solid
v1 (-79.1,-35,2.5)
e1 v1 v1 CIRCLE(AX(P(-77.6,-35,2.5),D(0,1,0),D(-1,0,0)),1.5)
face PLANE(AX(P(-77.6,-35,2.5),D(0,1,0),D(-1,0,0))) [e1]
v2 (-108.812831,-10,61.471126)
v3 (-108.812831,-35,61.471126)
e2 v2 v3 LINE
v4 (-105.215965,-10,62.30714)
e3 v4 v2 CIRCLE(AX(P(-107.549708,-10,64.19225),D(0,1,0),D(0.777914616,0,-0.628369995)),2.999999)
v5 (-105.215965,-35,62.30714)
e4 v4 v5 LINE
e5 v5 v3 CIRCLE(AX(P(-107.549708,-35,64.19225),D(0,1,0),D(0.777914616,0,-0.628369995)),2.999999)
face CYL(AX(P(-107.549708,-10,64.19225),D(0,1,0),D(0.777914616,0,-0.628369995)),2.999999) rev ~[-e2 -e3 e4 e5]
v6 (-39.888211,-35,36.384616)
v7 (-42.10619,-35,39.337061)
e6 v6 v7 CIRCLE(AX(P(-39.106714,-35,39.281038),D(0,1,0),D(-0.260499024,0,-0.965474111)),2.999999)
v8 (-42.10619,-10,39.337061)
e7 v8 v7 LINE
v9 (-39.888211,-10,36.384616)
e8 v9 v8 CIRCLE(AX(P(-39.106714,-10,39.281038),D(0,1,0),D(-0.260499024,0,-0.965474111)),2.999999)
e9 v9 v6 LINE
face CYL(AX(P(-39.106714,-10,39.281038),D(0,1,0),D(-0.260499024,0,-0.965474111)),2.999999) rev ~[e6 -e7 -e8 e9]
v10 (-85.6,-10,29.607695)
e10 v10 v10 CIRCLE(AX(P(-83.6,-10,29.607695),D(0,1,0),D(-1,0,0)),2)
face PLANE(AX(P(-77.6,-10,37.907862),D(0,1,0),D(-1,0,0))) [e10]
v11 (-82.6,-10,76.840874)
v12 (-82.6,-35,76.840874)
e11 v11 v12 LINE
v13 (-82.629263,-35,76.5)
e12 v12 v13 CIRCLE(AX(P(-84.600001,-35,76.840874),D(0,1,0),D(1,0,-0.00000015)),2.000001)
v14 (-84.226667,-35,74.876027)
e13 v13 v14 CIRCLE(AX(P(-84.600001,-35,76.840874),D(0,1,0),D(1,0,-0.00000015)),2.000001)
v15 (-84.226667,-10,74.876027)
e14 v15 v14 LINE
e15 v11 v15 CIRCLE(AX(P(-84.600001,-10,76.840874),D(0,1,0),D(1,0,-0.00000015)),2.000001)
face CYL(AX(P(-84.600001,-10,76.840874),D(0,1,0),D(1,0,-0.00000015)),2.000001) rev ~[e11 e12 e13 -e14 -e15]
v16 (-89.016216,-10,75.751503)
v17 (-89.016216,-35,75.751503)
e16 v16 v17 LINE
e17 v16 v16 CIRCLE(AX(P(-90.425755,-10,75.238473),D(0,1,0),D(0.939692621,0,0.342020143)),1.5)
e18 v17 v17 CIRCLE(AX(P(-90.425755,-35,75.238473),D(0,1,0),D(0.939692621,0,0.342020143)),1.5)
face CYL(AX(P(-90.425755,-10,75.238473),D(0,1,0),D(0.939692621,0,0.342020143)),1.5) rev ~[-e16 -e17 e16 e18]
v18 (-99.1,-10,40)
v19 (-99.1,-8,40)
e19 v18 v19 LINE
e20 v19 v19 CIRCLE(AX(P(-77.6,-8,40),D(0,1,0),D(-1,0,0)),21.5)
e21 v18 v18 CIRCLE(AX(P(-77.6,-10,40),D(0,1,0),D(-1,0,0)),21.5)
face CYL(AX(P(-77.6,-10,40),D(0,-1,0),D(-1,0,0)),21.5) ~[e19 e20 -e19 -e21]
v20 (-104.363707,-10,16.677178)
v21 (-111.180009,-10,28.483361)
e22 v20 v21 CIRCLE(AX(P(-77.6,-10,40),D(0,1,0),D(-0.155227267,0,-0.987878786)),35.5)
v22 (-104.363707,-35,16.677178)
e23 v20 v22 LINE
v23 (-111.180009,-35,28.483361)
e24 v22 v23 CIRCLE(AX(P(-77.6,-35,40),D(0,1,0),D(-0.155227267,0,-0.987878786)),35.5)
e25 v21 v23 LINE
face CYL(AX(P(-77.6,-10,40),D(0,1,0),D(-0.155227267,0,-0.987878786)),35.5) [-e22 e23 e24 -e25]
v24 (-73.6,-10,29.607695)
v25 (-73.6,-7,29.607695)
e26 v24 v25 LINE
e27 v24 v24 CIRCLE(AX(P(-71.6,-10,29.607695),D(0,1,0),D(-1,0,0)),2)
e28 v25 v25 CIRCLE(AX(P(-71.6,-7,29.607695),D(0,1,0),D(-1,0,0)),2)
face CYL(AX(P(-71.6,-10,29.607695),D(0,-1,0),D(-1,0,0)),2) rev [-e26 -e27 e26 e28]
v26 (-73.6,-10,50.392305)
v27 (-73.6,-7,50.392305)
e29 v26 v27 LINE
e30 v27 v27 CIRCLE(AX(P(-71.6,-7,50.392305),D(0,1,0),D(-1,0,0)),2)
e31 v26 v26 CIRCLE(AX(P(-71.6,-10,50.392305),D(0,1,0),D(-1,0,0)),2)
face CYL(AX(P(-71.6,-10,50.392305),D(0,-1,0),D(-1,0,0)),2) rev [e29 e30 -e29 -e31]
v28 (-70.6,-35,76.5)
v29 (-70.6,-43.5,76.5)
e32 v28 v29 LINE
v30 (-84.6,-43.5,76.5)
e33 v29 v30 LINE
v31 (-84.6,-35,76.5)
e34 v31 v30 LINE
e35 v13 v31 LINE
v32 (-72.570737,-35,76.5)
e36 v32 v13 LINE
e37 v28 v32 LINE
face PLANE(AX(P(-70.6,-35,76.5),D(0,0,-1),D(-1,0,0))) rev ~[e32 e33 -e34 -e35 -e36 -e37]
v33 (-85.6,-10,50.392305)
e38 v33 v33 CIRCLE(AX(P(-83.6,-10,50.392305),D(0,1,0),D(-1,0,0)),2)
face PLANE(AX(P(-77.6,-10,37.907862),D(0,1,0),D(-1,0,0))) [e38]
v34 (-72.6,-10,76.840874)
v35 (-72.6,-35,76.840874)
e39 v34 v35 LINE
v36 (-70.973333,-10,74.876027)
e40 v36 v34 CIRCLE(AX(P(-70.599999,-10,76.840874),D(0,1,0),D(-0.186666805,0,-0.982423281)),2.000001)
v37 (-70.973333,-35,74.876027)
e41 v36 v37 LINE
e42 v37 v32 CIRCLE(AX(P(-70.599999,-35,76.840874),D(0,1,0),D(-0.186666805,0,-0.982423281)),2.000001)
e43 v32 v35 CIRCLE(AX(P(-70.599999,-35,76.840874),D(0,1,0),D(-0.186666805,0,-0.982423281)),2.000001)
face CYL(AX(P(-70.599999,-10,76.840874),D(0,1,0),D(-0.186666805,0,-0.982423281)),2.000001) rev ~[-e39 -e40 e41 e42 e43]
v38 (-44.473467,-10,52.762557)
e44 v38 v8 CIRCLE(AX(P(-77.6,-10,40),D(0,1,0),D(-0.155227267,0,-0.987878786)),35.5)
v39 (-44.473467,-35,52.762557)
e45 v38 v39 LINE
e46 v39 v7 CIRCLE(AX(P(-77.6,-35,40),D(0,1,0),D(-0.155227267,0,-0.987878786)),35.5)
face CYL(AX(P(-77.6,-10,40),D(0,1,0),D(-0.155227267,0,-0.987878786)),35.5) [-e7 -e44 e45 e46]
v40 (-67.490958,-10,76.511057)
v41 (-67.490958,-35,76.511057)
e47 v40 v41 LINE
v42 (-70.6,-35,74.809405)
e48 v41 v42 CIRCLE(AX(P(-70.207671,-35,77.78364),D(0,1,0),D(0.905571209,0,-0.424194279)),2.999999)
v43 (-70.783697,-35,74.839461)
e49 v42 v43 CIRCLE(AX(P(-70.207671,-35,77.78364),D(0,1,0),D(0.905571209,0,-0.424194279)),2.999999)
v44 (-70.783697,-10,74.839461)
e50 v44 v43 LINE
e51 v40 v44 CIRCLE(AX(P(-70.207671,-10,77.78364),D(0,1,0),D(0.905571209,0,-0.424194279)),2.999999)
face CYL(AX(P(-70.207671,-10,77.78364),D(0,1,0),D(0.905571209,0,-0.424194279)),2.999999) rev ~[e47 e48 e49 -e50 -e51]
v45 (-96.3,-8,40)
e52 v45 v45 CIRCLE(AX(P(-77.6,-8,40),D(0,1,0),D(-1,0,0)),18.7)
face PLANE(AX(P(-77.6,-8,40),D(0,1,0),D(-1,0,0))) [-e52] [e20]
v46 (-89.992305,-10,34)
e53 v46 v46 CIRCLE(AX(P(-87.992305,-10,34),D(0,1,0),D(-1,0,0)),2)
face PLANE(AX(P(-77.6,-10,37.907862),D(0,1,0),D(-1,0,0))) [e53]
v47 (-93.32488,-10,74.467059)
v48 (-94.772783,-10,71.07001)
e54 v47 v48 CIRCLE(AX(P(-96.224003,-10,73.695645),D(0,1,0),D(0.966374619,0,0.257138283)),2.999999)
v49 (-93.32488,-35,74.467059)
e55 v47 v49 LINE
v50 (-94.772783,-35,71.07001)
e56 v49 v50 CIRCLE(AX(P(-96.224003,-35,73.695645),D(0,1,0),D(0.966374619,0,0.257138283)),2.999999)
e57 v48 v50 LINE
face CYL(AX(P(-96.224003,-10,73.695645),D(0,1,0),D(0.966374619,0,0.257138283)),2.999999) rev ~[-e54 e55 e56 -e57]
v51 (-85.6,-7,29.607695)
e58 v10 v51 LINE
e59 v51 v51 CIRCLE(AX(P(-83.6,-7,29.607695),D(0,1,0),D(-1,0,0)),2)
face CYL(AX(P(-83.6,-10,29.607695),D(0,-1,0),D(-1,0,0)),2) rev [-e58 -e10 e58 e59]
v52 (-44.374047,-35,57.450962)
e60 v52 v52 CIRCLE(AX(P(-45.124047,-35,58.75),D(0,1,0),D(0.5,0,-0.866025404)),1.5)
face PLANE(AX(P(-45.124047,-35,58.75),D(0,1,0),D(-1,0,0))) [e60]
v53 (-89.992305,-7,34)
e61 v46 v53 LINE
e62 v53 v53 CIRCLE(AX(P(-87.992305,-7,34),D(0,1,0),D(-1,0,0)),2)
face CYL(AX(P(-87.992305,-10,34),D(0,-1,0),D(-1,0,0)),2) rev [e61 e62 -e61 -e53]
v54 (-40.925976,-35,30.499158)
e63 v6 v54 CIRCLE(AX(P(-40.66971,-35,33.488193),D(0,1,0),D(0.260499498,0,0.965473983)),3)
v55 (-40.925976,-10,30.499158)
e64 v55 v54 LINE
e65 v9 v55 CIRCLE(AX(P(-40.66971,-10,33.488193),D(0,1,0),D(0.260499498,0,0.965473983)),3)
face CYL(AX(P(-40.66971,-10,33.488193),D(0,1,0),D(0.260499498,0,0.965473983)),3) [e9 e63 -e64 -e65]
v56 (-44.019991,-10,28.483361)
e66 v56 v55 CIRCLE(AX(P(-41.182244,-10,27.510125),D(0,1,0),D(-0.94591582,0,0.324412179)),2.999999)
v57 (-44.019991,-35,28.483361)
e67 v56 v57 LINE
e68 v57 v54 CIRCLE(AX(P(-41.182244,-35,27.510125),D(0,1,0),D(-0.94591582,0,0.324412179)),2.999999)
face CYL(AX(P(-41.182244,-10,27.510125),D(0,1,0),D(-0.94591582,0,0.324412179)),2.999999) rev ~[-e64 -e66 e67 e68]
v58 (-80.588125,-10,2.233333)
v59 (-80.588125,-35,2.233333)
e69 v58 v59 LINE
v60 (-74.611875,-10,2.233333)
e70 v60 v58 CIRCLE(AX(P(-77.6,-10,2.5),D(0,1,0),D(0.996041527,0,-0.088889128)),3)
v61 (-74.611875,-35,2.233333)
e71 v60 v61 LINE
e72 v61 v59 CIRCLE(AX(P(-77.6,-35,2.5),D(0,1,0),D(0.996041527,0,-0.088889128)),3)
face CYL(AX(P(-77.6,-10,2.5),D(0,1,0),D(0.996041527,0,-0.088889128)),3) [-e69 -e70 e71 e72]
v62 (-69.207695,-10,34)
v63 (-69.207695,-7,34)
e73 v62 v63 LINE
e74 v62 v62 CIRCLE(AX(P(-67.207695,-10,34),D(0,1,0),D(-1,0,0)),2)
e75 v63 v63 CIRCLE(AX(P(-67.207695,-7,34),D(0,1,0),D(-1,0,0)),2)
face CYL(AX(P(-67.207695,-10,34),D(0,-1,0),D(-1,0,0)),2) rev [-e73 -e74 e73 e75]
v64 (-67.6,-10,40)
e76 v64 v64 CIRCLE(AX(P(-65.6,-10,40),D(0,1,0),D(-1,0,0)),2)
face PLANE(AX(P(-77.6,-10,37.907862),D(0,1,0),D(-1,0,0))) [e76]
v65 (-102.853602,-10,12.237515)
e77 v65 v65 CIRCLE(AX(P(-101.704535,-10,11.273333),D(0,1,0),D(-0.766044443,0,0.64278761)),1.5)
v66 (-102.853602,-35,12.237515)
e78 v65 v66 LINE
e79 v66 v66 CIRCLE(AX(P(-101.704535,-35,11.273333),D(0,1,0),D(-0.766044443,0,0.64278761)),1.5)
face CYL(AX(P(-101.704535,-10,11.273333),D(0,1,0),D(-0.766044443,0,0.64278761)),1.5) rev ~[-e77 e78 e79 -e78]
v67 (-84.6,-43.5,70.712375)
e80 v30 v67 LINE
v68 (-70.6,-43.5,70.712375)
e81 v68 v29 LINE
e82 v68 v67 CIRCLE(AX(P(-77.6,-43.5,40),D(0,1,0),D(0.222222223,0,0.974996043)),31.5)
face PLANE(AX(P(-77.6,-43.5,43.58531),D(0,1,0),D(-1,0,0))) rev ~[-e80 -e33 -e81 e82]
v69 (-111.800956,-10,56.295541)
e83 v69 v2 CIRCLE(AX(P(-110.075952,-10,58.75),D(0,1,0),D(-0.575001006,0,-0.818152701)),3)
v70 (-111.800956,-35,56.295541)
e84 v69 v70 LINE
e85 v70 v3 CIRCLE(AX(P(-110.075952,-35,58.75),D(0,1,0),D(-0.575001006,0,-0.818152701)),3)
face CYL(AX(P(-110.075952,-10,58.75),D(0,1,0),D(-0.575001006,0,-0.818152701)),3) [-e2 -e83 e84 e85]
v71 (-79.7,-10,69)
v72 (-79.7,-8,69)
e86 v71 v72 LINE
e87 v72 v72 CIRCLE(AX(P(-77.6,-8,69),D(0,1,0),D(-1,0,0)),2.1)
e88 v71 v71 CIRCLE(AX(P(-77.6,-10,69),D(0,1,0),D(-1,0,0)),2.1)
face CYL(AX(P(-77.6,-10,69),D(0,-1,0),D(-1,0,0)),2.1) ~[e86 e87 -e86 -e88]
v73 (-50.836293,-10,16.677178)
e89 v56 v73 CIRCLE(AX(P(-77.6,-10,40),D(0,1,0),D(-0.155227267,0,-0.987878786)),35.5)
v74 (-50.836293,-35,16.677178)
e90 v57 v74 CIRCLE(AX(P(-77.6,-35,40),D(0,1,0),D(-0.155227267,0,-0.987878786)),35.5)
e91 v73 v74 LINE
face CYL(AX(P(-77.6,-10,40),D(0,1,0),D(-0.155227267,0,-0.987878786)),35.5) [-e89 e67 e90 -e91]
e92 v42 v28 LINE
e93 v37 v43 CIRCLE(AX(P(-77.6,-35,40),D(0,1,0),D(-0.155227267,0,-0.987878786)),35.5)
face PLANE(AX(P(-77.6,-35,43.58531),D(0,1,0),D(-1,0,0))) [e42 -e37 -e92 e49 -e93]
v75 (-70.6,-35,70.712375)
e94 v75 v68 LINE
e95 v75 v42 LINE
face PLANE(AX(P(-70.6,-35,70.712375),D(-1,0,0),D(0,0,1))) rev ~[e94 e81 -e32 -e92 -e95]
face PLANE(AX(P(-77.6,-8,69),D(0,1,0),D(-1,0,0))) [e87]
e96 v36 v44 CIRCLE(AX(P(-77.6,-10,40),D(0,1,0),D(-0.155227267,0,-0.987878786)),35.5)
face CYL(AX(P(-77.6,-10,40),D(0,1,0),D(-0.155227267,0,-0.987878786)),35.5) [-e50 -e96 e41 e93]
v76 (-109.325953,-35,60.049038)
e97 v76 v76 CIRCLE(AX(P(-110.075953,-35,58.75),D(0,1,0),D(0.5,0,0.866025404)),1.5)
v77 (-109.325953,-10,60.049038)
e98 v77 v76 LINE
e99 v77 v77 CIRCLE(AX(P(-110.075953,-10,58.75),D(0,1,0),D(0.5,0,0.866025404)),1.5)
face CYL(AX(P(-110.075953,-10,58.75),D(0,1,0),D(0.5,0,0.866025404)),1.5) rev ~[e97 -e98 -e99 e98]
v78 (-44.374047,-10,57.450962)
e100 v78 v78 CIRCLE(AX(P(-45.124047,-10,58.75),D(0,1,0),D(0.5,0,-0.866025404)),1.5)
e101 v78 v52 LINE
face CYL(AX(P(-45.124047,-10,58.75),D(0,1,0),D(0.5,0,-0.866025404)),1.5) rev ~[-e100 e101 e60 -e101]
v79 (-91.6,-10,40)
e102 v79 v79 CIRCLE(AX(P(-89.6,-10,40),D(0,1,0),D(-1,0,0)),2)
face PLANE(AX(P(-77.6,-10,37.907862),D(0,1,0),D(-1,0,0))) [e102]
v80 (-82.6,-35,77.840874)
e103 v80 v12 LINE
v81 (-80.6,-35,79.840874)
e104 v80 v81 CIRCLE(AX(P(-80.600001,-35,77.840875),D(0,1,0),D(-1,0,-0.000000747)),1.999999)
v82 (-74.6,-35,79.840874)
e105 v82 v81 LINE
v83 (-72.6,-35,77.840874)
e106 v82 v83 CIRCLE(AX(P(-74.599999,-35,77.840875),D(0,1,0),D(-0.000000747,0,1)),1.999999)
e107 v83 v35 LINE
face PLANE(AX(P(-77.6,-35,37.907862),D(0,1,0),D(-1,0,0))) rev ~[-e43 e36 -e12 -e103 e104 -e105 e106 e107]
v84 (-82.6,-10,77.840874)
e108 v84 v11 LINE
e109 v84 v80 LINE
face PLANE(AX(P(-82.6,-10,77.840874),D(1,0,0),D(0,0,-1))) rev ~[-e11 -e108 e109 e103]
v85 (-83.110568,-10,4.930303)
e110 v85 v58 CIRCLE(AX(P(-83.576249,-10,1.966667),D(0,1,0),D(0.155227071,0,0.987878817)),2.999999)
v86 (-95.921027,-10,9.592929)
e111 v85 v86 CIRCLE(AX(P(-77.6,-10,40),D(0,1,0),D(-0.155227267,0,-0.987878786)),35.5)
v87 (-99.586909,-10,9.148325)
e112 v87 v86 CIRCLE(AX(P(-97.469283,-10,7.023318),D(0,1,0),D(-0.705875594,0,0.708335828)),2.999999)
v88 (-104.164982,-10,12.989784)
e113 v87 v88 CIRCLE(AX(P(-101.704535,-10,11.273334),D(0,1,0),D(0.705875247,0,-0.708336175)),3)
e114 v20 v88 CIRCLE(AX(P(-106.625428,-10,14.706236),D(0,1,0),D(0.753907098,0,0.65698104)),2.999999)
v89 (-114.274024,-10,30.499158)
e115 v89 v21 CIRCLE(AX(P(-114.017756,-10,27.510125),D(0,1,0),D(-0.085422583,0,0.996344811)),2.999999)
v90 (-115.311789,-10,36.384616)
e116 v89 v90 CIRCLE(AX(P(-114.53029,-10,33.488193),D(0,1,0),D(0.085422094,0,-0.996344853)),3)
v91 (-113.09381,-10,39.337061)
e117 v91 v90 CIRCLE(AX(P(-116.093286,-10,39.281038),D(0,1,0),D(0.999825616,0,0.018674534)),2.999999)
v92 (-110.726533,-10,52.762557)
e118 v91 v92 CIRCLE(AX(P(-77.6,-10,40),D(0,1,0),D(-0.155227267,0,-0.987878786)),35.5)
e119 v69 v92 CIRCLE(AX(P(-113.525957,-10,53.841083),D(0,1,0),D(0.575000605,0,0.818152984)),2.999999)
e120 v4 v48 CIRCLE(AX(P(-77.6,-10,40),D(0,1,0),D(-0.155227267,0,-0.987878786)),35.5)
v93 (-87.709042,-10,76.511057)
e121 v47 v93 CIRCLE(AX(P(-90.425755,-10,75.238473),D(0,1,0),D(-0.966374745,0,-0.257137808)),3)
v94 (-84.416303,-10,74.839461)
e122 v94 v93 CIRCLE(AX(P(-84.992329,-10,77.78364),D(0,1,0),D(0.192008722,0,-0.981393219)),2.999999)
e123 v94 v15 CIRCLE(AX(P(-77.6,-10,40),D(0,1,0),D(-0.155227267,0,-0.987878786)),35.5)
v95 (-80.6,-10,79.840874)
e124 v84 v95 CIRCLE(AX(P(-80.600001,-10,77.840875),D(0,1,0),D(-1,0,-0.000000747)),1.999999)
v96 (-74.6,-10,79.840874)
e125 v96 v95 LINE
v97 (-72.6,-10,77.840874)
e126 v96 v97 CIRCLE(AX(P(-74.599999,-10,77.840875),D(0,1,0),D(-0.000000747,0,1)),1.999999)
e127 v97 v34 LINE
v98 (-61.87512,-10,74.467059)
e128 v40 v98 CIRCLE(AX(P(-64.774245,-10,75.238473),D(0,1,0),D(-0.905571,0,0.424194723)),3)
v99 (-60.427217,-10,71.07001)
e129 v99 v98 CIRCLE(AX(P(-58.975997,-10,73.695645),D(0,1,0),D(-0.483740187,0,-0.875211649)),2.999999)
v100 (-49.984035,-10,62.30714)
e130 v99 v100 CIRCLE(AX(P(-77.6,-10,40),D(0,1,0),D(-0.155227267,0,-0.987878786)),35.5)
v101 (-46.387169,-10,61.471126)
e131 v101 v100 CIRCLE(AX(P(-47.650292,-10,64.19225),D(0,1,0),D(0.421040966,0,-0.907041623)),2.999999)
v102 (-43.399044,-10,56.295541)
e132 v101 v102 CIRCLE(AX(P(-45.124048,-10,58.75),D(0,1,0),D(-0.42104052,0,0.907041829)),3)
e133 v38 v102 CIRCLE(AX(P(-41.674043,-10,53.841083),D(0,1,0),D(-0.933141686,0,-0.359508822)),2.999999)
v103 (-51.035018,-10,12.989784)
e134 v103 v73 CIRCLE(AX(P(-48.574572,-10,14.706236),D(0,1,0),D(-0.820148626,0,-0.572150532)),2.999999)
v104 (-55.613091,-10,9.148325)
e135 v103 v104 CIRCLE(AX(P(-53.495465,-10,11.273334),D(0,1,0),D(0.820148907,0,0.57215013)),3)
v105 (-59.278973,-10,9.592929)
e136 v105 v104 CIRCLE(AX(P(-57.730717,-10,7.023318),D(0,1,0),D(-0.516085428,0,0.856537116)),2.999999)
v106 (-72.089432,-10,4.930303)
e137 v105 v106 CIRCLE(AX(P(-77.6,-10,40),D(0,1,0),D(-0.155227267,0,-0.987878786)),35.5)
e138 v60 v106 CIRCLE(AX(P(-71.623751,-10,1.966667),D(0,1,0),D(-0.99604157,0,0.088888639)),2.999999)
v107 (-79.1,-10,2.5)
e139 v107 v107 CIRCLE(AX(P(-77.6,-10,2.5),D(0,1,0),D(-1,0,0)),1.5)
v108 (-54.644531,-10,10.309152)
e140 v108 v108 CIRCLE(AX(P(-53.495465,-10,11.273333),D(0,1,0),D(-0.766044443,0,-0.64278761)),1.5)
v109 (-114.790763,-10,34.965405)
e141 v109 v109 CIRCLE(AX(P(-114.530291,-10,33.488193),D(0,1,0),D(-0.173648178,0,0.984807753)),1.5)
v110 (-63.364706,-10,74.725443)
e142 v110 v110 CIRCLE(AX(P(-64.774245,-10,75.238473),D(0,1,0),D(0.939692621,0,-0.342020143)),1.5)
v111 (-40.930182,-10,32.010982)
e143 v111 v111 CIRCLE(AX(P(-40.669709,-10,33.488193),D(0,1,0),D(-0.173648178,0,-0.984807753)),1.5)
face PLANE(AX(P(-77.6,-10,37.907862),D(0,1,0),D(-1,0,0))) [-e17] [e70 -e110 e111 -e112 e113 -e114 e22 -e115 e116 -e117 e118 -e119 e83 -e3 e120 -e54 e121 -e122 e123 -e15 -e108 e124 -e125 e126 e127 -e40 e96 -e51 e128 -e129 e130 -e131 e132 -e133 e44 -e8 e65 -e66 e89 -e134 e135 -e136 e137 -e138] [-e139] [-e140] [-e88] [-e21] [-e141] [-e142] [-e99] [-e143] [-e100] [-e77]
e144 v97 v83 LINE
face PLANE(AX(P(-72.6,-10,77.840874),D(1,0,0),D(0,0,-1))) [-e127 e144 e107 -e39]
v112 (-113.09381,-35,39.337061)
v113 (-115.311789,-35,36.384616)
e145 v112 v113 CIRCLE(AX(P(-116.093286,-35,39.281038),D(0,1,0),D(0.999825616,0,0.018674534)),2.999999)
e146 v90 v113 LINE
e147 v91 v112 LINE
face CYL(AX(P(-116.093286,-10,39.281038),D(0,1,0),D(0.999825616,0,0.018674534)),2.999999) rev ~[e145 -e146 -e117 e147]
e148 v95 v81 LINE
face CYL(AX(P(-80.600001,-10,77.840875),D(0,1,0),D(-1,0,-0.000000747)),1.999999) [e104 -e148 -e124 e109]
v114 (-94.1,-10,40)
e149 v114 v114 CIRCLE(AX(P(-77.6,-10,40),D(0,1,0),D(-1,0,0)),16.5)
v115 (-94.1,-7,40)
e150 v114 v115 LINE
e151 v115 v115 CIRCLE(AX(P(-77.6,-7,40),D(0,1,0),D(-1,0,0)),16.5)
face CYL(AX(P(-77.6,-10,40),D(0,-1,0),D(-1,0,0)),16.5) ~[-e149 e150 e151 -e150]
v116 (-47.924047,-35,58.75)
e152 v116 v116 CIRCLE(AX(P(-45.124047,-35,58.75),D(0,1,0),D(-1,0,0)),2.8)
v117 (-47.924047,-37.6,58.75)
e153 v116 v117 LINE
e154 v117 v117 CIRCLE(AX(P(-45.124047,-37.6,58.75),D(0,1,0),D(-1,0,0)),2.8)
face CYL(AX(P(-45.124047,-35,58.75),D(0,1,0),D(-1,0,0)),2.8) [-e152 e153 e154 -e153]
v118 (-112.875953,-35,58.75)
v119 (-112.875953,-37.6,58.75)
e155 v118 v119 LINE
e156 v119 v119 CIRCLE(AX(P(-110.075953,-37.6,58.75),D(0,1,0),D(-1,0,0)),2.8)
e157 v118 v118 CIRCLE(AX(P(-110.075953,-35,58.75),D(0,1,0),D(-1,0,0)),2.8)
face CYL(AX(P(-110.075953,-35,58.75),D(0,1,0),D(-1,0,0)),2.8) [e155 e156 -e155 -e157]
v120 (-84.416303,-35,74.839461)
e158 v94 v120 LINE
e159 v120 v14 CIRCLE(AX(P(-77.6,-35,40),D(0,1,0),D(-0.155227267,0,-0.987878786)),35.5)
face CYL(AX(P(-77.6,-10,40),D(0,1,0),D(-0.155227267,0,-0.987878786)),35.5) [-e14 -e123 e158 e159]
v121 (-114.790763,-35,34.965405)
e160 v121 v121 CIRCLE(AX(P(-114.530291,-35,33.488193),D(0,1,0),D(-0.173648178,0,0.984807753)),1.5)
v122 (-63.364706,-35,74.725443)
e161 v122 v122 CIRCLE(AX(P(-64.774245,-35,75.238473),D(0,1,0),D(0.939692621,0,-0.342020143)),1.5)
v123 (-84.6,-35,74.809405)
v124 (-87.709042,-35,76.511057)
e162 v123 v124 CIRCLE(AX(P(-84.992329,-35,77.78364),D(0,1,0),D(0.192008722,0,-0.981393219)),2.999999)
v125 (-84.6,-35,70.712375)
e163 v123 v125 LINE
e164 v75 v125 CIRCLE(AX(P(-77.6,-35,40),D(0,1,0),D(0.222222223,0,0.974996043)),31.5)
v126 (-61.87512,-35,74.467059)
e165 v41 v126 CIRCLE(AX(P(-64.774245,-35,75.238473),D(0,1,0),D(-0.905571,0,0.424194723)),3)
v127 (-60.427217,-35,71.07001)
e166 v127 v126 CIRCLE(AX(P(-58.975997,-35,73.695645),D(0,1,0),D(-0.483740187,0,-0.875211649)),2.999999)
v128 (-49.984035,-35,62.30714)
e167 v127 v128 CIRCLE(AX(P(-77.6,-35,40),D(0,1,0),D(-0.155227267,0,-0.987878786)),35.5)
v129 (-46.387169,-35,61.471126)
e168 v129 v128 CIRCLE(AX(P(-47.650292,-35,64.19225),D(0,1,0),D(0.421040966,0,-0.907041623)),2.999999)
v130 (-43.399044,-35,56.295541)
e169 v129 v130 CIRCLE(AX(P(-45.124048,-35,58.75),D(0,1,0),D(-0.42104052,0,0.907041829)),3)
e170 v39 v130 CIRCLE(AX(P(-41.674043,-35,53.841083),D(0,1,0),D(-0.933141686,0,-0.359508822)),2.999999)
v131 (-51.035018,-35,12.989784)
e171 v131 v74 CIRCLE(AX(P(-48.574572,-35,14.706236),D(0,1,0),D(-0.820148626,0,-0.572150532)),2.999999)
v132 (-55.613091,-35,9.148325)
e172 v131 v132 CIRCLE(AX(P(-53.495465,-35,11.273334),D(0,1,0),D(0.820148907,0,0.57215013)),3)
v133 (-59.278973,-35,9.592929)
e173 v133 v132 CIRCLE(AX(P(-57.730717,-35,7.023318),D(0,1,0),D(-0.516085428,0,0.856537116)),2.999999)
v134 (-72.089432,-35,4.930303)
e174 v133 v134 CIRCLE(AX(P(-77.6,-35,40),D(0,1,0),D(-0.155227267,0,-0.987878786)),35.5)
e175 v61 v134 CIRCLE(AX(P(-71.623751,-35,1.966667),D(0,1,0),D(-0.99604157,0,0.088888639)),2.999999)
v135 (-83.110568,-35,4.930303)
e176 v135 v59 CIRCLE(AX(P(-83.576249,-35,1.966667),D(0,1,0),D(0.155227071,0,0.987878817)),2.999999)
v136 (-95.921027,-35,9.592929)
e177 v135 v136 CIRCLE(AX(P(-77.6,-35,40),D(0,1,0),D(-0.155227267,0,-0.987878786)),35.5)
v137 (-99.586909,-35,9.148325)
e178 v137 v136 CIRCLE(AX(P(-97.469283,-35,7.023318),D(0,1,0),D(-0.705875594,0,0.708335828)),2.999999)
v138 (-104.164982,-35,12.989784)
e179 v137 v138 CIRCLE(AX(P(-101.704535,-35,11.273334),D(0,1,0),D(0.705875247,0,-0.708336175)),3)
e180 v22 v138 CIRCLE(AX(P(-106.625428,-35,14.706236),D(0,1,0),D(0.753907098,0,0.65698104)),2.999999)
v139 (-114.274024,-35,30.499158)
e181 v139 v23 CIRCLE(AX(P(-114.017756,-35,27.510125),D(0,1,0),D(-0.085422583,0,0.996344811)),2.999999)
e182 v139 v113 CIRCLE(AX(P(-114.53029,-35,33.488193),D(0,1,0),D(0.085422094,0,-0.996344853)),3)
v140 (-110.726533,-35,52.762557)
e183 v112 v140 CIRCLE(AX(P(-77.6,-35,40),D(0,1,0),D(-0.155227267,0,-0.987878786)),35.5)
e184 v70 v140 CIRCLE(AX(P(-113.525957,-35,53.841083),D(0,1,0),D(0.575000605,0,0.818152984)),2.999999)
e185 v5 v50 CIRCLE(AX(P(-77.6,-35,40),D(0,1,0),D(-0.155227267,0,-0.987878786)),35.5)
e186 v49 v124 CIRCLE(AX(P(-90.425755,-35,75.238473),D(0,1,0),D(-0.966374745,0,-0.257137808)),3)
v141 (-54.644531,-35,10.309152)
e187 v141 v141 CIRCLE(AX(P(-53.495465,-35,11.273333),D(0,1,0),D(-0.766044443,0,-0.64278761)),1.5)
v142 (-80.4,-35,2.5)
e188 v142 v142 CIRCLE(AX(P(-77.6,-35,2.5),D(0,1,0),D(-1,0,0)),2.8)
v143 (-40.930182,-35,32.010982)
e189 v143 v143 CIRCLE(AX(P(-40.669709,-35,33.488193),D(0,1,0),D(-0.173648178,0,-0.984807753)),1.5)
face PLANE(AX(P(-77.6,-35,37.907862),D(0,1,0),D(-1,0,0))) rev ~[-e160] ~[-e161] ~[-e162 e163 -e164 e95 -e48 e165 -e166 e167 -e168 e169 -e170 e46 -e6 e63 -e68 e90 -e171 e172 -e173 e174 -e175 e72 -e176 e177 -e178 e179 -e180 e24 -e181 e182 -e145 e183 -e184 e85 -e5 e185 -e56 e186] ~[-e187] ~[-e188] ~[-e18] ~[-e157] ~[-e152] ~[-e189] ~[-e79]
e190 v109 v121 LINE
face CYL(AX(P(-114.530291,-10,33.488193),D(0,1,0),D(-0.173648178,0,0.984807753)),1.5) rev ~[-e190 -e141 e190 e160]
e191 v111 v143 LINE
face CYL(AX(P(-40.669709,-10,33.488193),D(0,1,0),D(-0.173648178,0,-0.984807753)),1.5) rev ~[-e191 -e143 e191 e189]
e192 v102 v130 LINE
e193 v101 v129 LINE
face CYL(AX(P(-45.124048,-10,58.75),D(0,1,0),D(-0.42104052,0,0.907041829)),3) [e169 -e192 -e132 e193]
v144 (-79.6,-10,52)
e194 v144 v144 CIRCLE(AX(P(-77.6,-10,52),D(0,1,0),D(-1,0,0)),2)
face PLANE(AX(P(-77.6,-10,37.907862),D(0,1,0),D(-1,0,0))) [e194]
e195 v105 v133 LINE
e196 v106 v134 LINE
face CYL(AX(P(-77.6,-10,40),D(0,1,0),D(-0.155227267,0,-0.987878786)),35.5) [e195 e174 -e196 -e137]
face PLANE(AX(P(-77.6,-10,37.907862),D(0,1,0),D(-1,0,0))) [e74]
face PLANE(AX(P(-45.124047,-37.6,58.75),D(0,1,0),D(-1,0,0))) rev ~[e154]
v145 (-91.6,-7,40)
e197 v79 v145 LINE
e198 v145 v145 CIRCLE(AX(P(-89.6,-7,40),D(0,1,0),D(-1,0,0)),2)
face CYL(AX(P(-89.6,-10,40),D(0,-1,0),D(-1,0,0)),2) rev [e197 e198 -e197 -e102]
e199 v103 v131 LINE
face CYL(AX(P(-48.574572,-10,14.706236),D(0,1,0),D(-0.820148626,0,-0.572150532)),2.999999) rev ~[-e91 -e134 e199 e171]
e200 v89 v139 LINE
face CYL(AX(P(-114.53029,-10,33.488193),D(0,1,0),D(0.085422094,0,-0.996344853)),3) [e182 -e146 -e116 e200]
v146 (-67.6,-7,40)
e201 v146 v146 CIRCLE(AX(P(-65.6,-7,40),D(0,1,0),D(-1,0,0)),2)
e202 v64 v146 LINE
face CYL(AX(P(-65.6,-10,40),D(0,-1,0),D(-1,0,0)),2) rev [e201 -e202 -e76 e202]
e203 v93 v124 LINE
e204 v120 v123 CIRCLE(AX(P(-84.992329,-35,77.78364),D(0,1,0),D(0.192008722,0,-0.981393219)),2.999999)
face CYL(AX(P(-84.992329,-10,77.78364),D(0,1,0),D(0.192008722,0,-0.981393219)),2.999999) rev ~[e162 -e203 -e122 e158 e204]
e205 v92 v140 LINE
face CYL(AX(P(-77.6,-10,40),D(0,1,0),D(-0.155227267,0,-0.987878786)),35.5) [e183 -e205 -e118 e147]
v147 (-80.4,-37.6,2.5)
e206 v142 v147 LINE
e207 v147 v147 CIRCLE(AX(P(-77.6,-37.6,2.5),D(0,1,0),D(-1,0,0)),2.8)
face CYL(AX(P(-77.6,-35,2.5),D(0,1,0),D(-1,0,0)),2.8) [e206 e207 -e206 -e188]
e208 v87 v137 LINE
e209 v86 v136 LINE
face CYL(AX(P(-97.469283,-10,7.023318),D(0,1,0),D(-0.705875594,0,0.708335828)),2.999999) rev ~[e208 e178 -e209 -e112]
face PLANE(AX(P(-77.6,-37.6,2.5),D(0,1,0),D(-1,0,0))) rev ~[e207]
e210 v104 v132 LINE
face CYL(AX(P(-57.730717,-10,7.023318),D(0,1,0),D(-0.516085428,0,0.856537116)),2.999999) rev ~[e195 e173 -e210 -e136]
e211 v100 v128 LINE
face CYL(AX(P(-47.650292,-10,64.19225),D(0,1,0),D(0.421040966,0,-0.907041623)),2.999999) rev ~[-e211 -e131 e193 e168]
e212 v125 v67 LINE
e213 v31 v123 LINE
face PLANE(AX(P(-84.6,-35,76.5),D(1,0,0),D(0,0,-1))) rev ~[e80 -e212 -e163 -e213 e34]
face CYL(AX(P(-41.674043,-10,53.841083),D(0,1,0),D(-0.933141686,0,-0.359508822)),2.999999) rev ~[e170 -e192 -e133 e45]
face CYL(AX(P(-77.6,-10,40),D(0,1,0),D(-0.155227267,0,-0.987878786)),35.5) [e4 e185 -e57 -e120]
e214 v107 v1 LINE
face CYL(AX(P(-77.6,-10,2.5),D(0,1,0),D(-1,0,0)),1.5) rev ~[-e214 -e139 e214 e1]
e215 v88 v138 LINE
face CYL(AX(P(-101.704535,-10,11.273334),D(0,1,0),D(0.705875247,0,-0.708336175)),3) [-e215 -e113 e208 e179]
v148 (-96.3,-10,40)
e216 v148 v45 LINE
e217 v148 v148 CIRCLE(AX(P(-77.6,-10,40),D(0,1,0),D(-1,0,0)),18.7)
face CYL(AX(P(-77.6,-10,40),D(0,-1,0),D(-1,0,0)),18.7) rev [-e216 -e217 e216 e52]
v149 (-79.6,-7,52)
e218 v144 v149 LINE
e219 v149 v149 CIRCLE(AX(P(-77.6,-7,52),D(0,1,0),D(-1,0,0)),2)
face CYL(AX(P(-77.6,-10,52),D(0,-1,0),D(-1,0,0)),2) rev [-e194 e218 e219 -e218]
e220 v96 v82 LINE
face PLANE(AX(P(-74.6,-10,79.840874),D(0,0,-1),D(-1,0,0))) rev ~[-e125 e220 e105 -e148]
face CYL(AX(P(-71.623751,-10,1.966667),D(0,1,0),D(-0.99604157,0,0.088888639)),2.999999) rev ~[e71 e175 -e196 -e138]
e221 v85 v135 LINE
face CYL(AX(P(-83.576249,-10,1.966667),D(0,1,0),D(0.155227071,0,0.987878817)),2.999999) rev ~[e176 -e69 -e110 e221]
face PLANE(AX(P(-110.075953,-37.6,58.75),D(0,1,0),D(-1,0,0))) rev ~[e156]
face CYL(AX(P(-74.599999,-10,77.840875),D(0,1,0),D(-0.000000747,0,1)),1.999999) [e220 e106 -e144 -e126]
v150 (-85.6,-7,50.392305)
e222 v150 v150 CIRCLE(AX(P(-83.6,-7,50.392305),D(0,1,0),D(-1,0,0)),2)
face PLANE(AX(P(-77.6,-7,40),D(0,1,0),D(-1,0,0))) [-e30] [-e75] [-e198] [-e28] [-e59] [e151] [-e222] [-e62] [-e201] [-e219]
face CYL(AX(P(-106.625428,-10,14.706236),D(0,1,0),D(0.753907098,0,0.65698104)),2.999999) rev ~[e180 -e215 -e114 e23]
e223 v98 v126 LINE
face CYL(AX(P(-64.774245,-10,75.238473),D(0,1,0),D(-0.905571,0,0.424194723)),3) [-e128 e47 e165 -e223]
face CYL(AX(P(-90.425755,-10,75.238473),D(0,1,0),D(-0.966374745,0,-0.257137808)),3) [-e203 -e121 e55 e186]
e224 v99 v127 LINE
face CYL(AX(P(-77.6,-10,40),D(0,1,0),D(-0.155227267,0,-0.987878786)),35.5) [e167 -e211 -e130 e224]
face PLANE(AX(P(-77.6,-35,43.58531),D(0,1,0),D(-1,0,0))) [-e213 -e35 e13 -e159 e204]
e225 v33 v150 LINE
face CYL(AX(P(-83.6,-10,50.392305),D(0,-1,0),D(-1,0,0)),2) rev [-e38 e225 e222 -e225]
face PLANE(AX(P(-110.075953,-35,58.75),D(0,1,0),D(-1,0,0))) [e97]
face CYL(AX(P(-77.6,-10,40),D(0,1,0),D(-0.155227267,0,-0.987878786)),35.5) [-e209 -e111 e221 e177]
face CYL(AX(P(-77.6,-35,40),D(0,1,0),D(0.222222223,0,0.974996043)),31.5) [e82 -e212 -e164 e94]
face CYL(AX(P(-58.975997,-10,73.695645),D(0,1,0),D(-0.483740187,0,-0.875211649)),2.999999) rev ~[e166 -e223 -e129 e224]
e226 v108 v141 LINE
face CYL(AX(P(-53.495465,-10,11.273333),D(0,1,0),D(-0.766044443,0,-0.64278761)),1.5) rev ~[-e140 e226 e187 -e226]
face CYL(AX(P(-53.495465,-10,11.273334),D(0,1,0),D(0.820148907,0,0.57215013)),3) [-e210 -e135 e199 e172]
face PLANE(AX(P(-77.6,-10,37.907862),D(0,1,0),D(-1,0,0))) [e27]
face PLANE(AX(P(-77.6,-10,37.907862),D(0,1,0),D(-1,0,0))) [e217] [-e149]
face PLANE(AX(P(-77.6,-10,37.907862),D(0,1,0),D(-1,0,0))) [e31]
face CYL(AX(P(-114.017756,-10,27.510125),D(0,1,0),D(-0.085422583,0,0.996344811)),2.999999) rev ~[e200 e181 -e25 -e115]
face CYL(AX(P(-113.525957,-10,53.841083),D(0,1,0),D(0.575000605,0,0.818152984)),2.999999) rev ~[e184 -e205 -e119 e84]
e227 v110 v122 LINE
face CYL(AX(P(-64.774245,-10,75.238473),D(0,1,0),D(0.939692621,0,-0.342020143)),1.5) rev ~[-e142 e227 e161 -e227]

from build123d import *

# Parameters (mm, degrees)
SKETCH009_R             = 16.5
SKETCH009_R_2           = 2
PAD006_DEPTH            = 3
SKETCH010_R             = 1.5
PAD007_DEPTH            = 25
POLARPATTERN_COUNT      = 9
PAD008_DEPTH            = 25
SKETCH012_R             = 21.5
SKETCH012_R_2           = 18.7
SKETCH012_R_3           = 2.1
PAD009_DEPTH            = 2
PAD010_DEPTH            = 8.5
SKETCH014_R             = 2.8
PAD011_DEPTH            = 2.6
BODY004_PLACEMENT_ANGLE = 90


with BuildPart() as part:
    # Sketch009 → Pad006 (new body)
    with BuildSketch(Plane.YZ):
        Circle(SKETCH009_R)
        with Locations((0, 12)):
            Circle(SKETCH009_R_2, mode=Mode.SUBTRACT)
        with Locations((-6, 10.392305)):
            Circle(SKETCH009_R_2, mode=Mode.SUBTRACT)
        with Locations((6, 10.392305)):
            Circle(SKETCH009_R_2, mode=Mode.SUBTRACT)
        with Locations((12, 0)):
            Circle(SKETCH009_R_2, mode=Mode.SUBTRACT)
        with Locations((10.392305, -6)):
            Circle(SKETCH009_R_2, mode=Mode.SUBTRACT)
        with Locations((6, -10.392305)):
            Circle(SKETCH009_R_2, mode=Mode.SUBTRACT)
        with Locations((-6, -10.392305)):
            Circle(SKETCH009_R_2, mode=Mode.SUBTRACT)
        with Locations((-10.392305, -6)):
            Circle(SKETCH009_R_2, mode=Mode.SUBTRACT)
        with Locations((-12, 0)):
            Circle(SKETCH009_R_2, mode=Mode.SUBTRACT)
    extrude(amount=PAD006_DEPTH)

    # Sketch010 → Pad007 (join)
    with BuildSketch(Plane.YZ):
        with BuildLine():
            ThreePointArc((5.510568, -35.069697), (0, 35.5), (-5.510568, -35.069697))
            ThreePointArc((-2.988125, -37.766667), (-3.785221, -35.984091), (-5.510568, -35.069697))
            ThreePointArc((-2.988125, -37.766667), (0, -40.5), (2.988125, -37.766667))
            ThreePointArc((5.510568, -35.069697), (3.785221, -35.984091), (2.988125, -37.766667))
        make_face()
        with Locations((0, -37.5)):
            Circle(SKETCH010_R, mode=Mode.SUBTRACT)
    pad007 = extrude(amount=-PAD007_DEPTH)

    # PolarPattern: Pad007 ×9 about axis
    polarpattern_axis = Axis((0, 0, 0), (1, 0, 0))
    for i in range(1, POLARPATTERN_COUNT):
        add(pad007.rotate(polarpattern_axis, i * 360 / POLARPATTERN_COUNT))

    # Sketch011 → Pad008 (join)
    with BuildSketch(Plane.YZ):
        with BuildLine():
            ThreePointArc((-6.626667, 34.876027), (-5.459437, 35.565466), (-5, 36.840874))
            Line((-5, 37.840874), (-5, 36.840874))
            ThreePointArc((-3, 39.840874), (-4.414214, 39.255088), (-5, 37.840874))
            Line((-3, 39.840874), (3, 39.840874))
            ThreePointArc((5, 37.840874), (4.414214, 39.255088), (3, 39.840874))
            Line((5, 37.840874), (5, 36.840874))
            ThreePointArc((5, 36.840874), (5.459437, 35.565466), (6.626667, 34.876027))
            ThreePointArc((6.626667, 34.876027), (0, 35.5), (-6.626667, 34.876027))
        make_face()
    extrude(amount=-PAD008_DEPTH)

    # Sketch012 → Pad009 (join)
    with BuildSketch(Plane.YZ):
        Circle(SKETCH012_R)
        Circle(SKETCH012_R_2, mode=Mode.SUBTRACT)
        with Locations((0, 29)):
            Circle(SKETCH012_R_3)
    extrude(amount=PAD009_DEPTH)

    # Sketch013 → Pad010 (join)
    with BuildSketch(Plane.YZ.offset(-25)):
        with BuildLine():
            ThreePointArc((-7, 30.712375), (0, -31.5), (7, 30.712375))
            Line((7, 36.5), (7, 30.712375))
            Line((-7, 36.5), (7, 36.5))
            Line((-7, 30.712375), (-7, 36.5))
        make_face()
    extrude(amount=-PAD010_DEPTH)

    # Sketch014 → Pad011 (join)
    with BuildSketch(Plane.YZ.offset(-25)):
        with Locations((0, -37.5)):
            Circle(SKETCH014_R)
        with Locations((32.475953, 18.75)):
            Circle(SKETCH014_R)
        with Locations((-32.475953, 18.75)):
            Circle(SKETCH014_R)
    extrude(amount=-PAD011_DEPTH)


with BuildPart() as part_1:
    # Body004 placement: moved
    add(part.part.moved(Location((-77.6, -10, 40))).rotate(Axis((-77.6, -10, 40), (0, 0, 1)), BODY004_PLACEMENT_ANGLE))


solid = part_1.part
